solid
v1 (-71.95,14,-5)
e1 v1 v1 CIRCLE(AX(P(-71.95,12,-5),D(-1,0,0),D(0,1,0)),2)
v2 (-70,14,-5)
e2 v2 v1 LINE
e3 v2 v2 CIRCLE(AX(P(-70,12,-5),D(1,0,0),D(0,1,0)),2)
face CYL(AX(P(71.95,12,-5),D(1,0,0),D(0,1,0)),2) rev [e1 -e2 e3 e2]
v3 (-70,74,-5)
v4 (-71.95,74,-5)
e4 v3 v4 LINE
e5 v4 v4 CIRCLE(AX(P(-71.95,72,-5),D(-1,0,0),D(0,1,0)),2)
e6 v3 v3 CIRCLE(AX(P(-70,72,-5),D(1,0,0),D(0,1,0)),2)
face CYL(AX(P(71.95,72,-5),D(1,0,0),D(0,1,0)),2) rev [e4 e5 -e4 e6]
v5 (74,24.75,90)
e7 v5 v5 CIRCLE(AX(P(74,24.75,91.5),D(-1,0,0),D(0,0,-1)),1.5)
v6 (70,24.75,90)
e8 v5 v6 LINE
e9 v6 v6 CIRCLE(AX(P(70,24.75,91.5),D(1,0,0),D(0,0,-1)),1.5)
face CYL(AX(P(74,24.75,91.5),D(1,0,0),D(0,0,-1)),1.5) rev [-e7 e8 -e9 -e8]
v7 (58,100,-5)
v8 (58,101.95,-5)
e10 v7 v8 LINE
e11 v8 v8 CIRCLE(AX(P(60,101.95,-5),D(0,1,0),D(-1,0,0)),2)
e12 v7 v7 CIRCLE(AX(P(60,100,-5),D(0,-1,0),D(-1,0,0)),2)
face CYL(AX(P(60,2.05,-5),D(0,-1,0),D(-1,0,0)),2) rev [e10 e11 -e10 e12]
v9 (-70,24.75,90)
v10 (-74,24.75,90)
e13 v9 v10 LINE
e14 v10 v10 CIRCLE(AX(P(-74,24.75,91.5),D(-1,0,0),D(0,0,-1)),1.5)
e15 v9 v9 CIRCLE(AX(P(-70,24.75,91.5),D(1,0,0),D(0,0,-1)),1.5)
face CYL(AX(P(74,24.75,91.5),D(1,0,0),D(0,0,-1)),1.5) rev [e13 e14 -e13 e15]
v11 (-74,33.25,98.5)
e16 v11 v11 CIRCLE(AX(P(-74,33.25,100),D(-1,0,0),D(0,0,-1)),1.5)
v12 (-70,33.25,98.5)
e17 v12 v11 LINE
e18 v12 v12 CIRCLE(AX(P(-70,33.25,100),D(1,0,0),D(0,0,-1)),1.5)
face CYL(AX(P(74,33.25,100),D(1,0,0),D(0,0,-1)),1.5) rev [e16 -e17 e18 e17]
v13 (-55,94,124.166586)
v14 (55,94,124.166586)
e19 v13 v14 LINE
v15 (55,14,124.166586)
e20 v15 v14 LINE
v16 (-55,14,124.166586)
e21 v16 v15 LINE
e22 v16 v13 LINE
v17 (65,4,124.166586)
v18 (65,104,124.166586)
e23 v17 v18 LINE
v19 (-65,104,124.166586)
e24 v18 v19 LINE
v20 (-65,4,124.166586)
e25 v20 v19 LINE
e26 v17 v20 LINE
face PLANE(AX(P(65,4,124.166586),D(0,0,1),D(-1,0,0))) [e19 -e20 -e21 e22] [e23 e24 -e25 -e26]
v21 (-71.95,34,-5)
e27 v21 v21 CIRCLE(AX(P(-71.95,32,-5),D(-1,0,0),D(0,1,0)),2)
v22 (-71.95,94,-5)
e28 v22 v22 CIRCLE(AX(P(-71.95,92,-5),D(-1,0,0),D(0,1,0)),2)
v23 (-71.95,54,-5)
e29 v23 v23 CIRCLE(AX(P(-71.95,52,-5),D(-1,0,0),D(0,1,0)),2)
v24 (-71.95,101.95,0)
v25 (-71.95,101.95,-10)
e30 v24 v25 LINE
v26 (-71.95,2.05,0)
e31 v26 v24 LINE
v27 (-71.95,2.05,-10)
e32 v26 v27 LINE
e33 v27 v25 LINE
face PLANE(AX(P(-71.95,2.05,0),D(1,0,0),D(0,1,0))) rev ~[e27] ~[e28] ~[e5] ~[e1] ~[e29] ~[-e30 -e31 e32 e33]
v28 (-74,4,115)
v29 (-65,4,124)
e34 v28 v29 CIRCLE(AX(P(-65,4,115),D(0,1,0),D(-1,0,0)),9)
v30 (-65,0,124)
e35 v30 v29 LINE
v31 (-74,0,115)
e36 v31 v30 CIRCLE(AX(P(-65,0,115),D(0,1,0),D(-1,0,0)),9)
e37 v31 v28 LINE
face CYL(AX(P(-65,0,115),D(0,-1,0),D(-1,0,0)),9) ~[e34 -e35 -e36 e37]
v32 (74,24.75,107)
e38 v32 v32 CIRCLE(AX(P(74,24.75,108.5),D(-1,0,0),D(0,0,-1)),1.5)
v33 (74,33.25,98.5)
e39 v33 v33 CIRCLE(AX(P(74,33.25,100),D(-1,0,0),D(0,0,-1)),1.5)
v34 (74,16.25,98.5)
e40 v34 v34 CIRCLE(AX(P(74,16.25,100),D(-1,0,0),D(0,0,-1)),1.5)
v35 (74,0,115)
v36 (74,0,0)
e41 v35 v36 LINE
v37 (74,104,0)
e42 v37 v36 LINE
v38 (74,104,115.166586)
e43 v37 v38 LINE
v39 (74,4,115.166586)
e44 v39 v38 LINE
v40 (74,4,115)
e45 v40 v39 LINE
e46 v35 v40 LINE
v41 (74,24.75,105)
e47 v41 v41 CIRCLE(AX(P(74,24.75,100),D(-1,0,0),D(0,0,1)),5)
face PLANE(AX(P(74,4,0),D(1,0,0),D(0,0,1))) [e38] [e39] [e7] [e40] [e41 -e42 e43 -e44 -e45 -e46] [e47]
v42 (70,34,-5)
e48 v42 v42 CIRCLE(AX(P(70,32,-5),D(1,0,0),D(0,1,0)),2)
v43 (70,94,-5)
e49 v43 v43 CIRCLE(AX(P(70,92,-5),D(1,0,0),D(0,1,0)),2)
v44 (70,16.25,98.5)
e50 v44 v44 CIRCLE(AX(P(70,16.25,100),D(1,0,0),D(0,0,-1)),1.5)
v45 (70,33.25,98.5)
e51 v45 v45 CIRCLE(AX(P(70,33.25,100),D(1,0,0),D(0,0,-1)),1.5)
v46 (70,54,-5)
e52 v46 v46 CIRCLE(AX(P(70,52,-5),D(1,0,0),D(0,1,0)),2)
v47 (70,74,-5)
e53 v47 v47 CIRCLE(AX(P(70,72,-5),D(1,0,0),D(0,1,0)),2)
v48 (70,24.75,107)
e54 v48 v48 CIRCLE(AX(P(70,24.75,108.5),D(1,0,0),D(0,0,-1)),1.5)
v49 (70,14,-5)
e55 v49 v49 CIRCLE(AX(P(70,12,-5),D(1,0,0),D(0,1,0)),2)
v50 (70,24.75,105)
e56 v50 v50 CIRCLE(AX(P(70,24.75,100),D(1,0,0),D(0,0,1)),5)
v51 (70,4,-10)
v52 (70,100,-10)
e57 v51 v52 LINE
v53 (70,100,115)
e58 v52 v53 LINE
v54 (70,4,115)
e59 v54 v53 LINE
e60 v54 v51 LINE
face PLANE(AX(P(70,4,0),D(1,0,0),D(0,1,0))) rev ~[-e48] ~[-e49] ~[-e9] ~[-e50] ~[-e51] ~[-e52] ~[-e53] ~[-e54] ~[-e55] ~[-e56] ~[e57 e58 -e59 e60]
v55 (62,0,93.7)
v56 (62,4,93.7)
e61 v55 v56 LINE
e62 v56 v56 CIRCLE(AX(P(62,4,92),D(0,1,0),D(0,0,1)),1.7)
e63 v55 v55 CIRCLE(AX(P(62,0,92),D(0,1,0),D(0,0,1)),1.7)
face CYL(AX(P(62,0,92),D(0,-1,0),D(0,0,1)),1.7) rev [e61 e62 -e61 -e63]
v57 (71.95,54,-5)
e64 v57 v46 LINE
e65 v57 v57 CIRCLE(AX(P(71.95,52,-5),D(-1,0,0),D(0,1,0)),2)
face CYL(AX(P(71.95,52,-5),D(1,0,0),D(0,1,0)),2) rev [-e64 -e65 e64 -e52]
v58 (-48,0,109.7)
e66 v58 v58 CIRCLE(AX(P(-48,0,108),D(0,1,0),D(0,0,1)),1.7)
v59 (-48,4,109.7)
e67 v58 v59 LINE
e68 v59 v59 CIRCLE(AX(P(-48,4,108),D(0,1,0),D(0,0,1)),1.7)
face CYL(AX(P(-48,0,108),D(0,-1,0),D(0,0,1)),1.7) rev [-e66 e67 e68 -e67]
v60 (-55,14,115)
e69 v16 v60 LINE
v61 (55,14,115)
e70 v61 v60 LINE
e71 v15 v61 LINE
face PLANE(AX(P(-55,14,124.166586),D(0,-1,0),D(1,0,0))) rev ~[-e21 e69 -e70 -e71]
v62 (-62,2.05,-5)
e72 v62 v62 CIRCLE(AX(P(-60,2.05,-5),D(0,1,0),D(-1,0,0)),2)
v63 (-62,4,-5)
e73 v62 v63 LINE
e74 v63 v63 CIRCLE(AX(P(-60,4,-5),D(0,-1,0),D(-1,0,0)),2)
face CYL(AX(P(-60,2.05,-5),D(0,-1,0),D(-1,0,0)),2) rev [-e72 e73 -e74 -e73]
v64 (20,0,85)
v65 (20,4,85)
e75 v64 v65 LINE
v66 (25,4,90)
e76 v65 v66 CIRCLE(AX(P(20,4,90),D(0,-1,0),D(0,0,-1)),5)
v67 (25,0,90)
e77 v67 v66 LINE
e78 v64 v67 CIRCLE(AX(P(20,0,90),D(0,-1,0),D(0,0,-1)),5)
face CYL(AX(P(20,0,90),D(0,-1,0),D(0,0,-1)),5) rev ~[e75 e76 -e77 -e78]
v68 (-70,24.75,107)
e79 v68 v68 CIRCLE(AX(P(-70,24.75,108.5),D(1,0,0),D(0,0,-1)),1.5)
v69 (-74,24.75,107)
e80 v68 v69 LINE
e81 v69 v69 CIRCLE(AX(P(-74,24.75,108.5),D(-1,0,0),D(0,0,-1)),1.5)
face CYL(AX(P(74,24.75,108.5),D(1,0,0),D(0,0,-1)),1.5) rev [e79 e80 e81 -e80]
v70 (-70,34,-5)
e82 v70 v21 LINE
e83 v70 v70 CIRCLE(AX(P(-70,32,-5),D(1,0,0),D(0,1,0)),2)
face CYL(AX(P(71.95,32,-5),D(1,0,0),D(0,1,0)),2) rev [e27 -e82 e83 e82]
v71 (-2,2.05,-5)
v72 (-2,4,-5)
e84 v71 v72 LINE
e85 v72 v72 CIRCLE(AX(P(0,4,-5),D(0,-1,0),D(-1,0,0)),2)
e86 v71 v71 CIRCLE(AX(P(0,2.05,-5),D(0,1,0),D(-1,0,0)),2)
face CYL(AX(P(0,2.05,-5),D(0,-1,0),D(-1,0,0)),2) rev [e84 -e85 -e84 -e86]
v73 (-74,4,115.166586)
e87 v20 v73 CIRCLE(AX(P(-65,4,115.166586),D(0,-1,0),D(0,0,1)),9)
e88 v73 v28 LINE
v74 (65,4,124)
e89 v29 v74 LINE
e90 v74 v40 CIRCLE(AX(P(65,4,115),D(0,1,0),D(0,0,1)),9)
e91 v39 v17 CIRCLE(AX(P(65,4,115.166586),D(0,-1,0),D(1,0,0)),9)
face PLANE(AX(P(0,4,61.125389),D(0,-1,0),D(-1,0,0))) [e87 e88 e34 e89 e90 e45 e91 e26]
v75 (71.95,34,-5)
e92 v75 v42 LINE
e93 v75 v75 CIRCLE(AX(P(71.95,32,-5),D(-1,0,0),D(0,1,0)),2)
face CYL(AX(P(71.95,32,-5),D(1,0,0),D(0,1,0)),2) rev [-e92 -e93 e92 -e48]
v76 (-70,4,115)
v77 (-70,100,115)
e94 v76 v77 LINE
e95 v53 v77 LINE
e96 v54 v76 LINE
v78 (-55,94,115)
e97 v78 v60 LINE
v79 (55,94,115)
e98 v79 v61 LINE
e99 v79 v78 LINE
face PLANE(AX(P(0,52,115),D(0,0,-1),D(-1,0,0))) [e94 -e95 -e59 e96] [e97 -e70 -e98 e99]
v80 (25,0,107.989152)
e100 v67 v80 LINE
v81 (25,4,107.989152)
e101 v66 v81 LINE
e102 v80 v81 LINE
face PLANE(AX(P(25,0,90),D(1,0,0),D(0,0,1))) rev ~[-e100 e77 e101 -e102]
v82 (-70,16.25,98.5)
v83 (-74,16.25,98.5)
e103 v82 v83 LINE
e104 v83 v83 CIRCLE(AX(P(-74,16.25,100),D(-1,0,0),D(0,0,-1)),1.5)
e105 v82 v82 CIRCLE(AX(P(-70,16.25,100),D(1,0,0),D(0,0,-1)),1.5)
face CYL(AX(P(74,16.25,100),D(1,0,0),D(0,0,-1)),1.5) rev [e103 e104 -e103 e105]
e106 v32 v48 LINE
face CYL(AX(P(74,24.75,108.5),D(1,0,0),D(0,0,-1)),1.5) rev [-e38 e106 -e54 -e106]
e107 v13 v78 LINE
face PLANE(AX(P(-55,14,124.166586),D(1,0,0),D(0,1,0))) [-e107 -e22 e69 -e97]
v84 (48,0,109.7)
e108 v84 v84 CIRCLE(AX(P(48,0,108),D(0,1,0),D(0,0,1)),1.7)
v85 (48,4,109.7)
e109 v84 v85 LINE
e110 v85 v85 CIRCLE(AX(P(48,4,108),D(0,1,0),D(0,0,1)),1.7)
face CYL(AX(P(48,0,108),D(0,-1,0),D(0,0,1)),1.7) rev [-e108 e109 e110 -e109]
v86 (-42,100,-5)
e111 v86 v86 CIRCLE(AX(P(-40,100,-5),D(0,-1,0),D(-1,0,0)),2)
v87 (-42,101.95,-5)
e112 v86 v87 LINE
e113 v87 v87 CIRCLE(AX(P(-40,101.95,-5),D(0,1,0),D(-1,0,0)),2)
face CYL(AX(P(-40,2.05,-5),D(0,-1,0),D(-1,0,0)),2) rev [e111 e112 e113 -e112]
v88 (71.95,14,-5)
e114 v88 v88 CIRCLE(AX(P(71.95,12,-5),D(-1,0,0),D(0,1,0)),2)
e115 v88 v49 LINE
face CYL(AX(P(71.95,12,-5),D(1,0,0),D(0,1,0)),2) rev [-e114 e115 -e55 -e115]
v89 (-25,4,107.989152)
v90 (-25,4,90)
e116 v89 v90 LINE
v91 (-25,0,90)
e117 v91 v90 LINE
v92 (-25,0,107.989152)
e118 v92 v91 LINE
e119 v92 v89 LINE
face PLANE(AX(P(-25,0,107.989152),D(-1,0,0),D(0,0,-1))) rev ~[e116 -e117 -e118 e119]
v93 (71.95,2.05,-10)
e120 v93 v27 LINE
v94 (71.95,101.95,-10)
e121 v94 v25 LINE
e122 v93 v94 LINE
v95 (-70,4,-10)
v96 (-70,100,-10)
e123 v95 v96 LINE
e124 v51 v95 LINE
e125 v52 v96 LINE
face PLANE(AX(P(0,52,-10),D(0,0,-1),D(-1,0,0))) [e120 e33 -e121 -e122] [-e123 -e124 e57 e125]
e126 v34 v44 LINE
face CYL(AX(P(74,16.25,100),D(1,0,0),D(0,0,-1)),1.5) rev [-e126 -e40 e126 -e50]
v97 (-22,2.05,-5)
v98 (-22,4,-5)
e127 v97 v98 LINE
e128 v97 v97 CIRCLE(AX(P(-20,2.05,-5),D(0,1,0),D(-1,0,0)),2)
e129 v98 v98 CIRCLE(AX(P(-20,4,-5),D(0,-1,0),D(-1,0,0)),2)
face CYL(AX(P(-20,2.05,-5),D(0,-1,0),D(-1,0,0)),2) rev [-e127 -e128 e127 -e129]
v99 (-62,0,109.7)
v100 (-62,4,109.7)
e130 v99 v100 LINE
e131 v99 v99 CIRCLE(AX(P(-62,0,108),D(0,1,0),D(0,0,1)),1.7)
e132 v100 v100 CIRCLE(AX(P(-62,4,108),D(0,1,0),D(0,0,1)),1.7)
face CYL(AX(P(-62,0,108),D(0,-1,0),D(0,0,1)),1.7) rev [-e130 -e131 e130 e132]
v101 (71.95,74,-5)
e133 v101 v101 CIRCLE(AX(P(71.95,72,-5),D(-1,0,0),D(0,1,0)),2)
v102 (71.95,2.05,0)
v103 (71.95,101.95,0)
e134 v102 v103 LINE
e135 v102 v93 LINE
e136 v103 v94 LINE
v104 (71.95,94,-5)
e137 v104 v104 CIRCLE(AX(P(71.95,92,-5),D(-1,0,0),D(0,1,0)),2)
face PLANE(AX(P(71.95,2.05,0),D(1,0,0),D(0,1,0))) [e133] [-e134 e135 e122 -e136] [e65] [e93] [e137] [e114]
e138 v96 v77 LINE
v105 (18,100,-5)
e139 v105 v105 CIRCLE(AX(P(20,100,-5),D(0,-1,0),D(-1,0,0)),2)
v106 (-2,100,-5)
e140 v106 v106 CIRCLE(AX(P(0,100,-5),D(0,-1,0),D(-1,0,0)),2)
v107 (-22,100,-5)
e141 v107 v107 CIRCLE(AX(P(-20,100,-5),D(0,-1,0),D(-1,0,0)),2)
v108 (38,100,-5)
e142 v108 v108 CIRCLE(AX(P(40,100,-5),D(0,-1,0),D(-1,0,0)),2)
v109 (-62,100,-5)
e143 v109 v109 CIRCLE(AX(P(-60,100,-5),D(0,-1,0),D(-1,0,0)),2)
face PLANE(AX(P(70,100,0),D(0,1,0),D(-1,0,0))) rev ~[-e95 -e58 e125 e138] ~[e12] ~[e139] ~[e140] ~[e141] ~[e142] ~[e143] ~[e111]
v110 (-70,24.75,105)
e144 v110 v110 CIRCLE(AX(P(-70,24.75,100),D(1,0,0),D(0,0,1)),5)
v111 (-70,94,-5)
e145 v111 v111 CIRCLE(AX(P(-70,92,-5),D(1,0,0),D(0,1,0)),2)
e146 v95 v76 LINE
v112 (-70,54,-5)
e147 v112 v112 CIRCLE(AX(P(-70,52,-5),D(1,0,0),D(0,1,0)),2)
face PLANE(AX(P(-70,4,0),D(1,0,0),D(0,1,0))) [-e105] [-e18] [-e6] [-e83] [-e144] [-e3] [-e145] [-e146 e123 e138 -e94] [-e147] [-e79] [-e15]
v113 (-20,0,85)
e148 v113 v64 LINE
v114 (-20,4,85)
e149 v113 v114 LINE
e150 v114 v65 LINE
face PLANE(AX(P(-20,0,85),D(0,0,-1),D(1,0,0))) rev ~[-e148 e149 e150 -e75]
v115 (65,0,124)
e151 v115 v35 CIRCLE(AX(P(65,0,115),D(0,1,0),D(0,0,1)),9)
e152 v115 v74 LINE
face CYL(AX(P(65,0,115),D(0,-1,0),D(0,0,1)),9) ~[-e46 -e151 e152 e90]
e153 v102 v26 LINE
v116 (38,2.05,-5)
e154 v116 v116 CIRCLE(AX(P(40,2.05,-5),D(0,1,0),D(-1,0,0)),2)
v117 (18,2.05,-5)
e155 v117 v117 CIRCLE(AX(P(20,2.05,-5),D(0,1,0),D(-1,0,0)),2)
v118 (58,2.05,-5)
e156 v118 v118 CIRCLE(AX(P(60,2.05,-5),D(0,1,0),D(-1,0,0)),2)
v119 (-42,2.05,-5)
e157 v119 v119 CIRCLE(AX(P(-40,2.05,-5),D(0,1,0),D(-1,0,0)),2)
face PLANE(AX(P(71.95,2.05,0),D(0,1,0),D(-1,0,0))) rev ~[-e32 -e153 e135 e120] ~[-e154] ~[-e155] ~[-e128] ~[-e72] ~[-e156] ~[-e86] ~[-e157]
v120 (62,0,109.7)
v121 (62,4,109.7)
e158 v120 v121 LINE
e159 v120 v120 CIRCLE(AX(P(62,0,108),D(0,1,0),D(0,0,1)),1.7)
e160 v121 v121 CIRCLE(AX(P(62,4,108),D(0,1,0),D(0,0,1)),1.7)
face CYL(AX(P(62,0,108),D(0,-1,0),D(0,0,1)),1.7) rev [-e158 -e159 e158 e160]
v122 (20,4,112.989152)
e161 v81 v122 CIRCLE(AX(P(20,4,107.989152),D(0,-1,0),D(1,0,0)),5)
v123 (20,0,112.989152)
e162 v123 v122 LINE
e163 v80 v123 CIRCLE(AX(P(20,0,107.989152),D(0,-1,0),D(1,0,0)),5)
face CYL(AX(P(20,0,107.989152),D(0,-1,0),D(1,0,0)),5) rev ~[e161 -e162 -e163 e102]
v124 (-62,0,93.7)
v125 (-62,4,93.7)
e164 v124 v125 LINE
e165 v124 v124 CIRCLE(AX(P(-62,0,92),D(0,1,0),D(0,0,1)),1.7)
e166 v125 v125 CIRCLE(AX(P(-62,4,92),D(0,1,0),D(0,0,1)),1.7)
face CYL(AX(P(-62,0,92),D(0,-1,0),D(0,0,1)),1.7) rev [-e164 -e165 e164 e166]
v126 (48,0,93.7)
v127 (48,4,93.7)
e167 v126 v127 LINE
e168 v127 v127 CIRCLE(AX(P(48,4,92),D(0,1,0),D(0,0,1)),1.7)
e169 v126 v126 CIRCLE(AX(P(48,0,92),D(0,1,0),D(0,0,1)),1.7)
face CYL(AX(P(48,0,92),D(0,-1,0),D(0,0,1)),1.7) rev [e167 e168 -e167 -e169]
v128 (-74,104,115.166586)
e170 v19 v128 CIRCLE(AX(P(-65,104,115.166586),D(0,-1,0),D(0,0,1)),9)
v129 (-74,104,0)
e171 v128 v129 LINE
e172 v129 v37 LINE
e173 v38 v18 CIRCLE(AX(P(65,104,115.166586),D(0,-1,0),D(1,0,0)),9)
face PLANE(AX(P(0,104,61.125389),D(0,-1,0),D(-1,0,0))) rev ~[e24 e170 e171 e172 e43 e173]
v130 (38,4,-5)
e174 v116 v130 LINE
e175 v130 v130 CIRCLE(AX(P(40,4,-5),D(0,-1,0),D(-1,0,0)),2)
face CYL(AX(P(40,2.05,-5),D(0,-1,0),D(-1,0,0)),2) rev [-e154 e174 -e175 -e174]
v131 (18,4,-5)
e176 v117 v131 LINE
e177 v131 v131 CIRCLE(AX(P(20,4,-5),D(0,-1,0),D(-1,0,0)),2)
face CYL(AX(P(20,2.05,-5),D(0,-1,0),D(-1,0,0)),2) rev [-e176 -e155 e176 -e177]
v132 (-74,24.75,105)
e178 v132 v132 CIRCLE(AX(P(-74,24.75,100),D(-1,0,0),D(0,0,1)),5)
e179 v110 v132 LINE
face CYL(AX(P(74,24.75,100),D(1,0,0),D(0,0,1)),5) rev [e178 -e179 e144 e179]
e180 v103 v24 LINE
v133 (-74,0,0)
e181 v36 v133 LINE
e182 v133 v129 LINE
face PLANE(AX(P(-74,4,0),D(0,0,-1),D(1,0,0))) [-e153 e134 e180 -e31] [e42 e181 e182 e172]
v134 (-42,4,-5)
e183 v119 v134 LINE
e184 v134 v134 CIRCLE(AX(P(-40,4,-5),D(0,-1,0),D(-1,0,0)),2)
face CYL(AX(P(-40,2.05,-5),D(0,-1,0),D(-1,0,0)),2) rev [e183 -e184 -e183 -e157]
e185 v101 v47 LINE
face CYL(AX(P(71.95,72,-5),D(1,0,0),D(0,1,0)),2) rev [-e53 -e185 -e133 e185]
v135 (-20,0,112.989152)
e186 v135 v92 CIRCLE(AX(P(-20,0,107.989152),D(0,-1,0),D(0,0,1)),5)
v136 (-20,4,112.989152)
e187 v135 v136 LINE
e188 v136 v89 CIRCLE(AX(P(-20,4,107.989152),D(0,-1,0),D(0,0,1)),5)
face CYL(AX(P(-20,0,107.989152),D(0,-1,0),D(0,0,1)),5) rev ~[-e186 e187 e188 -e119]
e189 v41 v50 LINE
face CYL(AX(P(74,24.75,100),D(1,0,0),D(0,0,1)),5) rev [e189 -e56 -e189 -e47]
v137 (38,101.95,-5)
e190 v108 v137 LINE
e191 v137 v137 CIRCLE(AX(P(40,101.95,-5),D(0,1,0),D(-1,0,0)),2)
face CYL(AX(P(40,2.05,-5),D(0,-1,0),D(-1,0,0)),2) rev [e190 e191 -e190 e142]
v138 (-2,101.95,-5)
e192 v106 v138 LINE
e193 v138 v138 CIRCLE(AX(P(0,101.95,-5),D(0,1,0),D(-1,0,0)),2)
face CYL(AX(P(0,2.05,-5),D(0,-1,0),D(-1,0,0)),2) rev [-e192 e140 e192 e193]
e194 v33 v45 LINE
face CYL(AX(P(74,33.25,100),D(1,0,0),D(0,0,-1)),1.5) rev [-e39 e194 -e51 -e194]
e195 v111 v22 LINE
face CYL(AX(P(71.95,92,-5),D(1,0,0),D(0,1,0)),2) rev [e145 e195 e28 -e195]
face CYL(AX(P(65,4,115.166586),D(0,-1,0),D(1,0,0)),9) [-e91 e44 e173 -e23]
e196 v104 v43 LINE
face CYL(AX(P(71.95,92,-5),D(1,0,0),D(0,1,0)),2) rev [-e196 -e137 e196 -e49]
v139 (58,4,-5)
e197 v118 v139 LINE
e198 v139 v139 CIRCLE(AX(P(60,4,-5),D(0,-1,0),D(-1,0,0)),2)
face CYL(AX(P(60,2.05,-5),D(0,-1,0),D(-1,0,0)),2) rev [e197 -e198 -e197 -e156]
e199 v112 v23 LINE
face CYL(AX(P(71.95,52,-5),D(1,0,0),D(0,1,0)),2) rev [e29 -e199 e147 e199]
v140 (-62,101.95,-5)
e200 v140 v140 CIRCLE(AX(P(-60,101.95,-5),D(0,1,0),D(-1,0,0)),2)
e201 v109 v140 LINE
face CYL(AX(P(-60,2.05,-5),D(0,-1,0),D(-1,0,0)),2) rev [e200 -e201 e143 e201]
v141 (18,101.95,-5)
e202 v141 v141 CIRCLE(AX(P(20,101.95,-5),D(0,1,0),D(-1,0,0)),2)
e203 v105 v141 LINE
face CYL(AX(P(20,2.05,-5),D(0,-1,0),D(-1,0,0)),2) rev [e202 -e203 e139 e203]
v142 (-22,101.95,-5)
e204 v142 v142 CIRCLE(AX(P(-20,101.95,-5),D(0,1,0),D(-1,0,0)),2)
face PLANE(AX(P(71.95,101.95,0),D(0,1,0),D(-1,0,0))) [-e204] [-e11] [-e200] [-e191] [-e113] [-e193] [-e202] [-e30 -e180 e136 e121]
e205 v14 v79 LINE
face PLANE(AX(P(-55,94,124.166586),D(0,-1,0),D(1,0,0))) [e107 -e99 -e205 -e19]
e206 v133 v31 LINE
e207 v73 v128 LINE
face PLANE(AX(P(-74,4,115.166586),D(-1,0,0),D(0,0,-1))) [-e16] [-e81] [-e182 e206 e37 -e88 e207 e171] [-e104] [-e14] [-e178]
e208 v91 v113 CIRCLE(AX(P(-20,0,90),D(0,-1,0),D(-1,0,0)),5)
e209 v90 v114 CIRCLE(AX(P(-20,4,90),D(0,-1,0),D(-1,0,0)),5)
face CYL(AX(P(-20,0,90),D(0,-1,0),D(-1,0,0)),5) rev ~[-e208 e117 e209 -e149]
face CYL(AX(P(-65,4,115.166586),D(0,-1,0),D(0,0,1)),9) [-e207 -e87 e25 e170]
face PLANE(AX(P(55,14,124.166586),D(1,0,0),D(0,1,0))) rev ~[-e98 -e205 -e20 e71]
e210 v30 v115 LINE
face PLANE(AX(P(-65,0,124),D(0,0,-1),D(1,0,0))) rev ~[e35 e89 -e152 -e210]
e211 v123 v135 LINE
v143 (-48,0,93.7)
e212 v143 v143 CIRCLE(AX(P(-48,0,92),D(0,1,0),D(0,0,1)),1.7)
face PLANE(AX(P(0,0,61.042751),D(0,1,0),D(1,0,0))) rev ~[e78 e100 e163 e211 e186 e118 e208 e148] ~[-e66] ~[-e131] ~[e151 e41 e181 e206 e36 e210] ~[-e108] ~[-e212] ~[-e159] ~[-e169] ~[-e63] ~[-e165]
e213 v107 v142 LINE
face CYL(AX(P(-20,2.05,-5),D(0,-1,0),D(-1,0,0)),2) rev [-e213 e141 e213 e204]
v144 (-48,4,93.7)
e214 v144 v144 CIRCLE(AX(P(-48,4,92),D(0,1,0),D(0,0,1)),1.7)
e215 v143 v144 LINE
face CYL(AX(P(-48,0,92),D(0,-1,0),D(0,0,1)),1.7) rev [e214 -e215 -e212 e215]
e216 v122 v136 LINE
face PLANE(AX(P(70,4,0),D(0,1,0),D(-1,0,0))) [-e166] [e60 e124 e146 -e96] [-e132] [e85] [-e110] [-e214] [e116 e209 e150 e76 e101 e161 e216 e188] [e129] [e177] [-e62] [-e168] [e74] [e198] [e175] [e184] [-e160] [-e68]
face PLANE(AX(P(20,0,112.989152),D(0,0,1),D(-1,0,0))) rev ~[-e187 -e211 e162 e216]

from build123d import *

# Parameters (mm, degrees)
SKETCH_1_R           = 1.7
EXTRUDE_6_DEPTH      = 4
EXTRUDE_7_DEPTH      = 100
SKETCH_10_W          = 140
SKETCH_10_H          = 96
CUT_EXTRUDE_20_DEPTH = 115
CUT_EXTRUDE_START    = -148
SKETCH_16_R          = 1.5
SKETCH_16_R_2        = 4
CUT_EXTRUDE_22_DEPTH = 148
SKETCH_21_W          = 110
SKETCH_21_H          = 80
CUT_EXTRUDE_28_DEPTH = 50
SKETCH_23_R          = 5
CUT_EXTRUDE_29_DEPTH = 148
SKETCH_31_W          = 143.9
SKETCH_31_H          = 99.9
SKETCH_31_W_2        = 140
SKETCH_31_H_2        = 96
EXTRUDE_9_DEPTH      = 10
CUT_EXTRUDE_START_2  = -99.9
SKETCH_32_R          = 2
CUT_EXTRUDE_32_DEPTH = 99.9
CUT_EXTRUDE_START_3  = -143.9
SKETCH_33_R          = 2
CUT_EXTRUDE_33_DEPTH = 143.9


with BuildPart() as part:
    # 草图1 → 凸台-拉伸6 (new body)
    with BuildSketch(Plane(origin=(0, 0, 0), x_dir=(1, 0, 0), z_dir=(0, 1, 0))):
        with BuildLine():
            Line((-74, 0), (-74, -115))
            ThreePointArc((-74, -115), (-71.363961031, -121.363961031), (-65, -124))
            Line((-65, -124), (65, -124))
            ThreePointArc((65, -124), (71.363961031, -121.363961031), (74, -115))
            Line((74, -115), (74, 0))
            Line((74, 0), (-74, 0))
        make_face()
        with Locations(Location((-62, -108, 0), (0, 0, 270))):
            Circle(SKETCH_1_R, mode=Mode.SUBTRACT)
        with Locations(Location((-48, -108, 0), (0, 0, 270))):
            Circle(SKETCH_1_R, mode=Mode.SUBTRACT)
        with Locations(Location((48, -108, 0), (0, 0, 270))):
            Circle(SKETCH_1_R, mode=Mode.SUBTRACT)
        with Locations(Location((62, -108, 0), (0, 0, 270))):
            Circle(SKETCH_1_R, mode=Mode.SUBTRACT)
        with Locations(Location((-62, -92, 0), (0, 0, 270))):
            Circle(SKETCH_1_R, mode=Mode.SUBTRACT)
        with Locations(Location((-48, -92, 0), (0, 0, 270))):
            Circle(SKETCH_1_R, mode=Mode.SUBTRACT)
        with BuildLine():
            ThreePointArc((-25, -90), (-23.535533906, -86.464466094), (-20, -85))
            Line((-20, -85), (20, -85))
            ThreePointArc((20, -85), (23.535533906, -86.464466094), (25, -90))
            Line((25, -90), (25, -107.989151936))
            ThreePointArc((25, -107.989151936), (23.535533906, -111.524685842), (20, -112.989151936))
            Line((20, -112.989151936), (-20, -112.989151936))
            ThreePointArc((-20, -112.989151936), (-23.535533906, -111.524685842), (-25, -107.989151936))
            Line((-25, -107.989151936), (-25, -90))
        make_face(mode=Mode.SUBTRACT)
        with Locations(Location((48, -92, 0), (0, 0, 270))):
            Circle(SKETCH_1_R, mode=Mode.SUBTRACT)
        with Locations(Location((62, -92, 0), (0, 0, 270))):
            Circle(SKETCH_1_R, mode=Mode.SUBTRACT)
    extrude(amount=EXTRUDE_6_DEPTH)

    # 草图9 → 凸台-拉伸7 (add)
    with BuildSketch(Plane(origin=(0, 4, 0), x_dir=(1, 0, 0), z_dir=(0, 1, 0))):
        with BuildLine():
            Line((-74, 0), (74, 0))
            Line((74, 0), (74, -115.166586314))
            ThreePointArc((74, -115.166586314), (71.363961031, -121.530547345), (65, -124.166586314))
            Line((65, -124.166586314), (-65, -124.166586314))
            ThreePointArc((-65, -124.166586314), (-71.363961031, -121.530547345), (-74, -115.166586314))
            Line((-74, -115.166586314), (-74, 0))
        make_face()
    extrude(amount=EXTRUDE_7_DEPTH)

    # 草图10 → 切除-拉伸20 (cut)
    with BuildSketch(Plane(origin=(0, 0, 0), x_dir=(-1, 0, 0), z_dir=(0, 0, -1))):
        with Locations((0, 52)):
            Rectangle(SKETCH_10_W, SKETCH_10_H)
    extrude(amount=-CUT_EXTRUDE_20_DEPTH, mode=Mode.SUBTRACT)

    # 草图16 → 切除-拉伸22 (cut)
    with BuildSketch(Plane.ZY.offset(74).offset(CUT_EXTRUDE_START)):
        with Locations(Location((100, 16.25, 0), (0, 0, 180))):
            Circle(SKETCH_16_R)
        with Locations(Location((108.5, 24.75, 0), (0, 0, 180))):
            Circle(SKETCH_16_R)
        with Locations(Location((100, 24.75, 0), (0, 0, 180))):
            Circle(SKETCH_16_R_2)
        with Locations(Location((91.5, 24.75, 0), (0, 0, 180))):
            Circle(SKETCH_16_R)
        with Locations(Location((100, 33.25, 0), (0, 0, 180))):
            Circle(SKETCH_16_R)
    extrude(amount=CUT_EXTRUDE_22_DEPTH, mode=Mode.SUBTRACT)

    # 草图21 → 切除-拉伸28 (cut)
    with BuildSketch(Plane.XY.offset(124.166586314)):
        with Locations((0, 54)):
            Rectangle(SKETCH_21_W, SKETCH_21_H)
    extrude(amount=-CUT_EXTRUDE_28_DEPTH, mode=Mode.SUBTRACT)

    # 草图23 → 切除-拉伸29 (cut)
    with BuildSketch(Plane.ZY.offset(74).offset(CUT_EXTRUDE_START)):
        with Locations((100, 24.75)):
            Circle(SKETCH_23_R)
    extrude(amount=CUT_EXTRUDE_29_DEPTH, mode=Mode.SUBTRACT)

    # 草图31 → 凸台-拉伸9 (add)
    with BuildSketch(Plane(origin=(0, 0, 0), x_dir=(-1, 0, 0), z_dir=(0, 0, -1))):
        with Locations((0, 52)):
            Rectangle(SKETCH_31_W, SKETCH_31_H)
        with Locations((0, 52)):
            Rectangle(SKETCH_31_W_2, SKETCH_31_H_2, mode=Mode.SUBTRACT)
    extrude(amount=EXTRUDE_9_DEPTH)

    # 草图32 → 切除-拉伸32 (cut)
    with BuildSketch(Plane(origin=(0, 101.95, 0), x_dir=(1, 0, 0), z_dir=(0, 1, 0)).offset(CUT_EXTRUDE_START_2)):
        with Locations(Location((0, 5, 0), (0, 0, 180))):
            Circle(SKETCH_32_R)
        with Locations(Location((20, 5, 0), (0, 0, 180))):
            Circle(SKETCH_32_R)
        with Locations(Location((40, 5, 0), (0, 0, 180))):
            Circle(SKETCH_32_R)
        with Locations(Location((60, 5, 0), (0, 0, 180))):
            Circle(SKETCH_32_R)
        with Locations(Location((-60, 5, 0), (0, 0, 180))):
            Circle(SKETCH_32_R)
        with Locations(Location((-20, 5, 0), (0, 0, 180))):
            Circle(SKETCH_32_R)
        with Locations(Location((-40, 5, 0), (0, 0, 180))):
            Circle(SKETCH_32_R)
    extrude(amount=CUT_EXTRUDE_32_DEPTH, mode=Mode.SUBTRACT)

    # 草图33 → 切除-拉伸33 (cut)
    with BuildSketch(Plane.ZY.offset(71.95).offset(CUT_EXTRUDE_START_3)):
        with Locations(Location((-5, 52, 0), (0, 0, 90))):
            Circle(SKETCH_33_R)
        with Locations(Location((-5, 72, 0), (0, 0, 90))):
            Circle(SKETCH_33_R)
        with Locations(Location((-5, 92, 0), (0, 0, 90))):
            Circle(SKETCH_33_R)
        with Locations(Location((-5, 12, 0), (0, 0, 90))):
            Circle(SKETCH_33_R)
        with Locations(Location((-5, 32, 0), (0, 0, 90))):
            Circle(SKETCH_33_R)
    extrude(amount=CUT_EXTRUDE_33_DEPTH, mode=Mode.SUBTRACT)


solid = part.part
